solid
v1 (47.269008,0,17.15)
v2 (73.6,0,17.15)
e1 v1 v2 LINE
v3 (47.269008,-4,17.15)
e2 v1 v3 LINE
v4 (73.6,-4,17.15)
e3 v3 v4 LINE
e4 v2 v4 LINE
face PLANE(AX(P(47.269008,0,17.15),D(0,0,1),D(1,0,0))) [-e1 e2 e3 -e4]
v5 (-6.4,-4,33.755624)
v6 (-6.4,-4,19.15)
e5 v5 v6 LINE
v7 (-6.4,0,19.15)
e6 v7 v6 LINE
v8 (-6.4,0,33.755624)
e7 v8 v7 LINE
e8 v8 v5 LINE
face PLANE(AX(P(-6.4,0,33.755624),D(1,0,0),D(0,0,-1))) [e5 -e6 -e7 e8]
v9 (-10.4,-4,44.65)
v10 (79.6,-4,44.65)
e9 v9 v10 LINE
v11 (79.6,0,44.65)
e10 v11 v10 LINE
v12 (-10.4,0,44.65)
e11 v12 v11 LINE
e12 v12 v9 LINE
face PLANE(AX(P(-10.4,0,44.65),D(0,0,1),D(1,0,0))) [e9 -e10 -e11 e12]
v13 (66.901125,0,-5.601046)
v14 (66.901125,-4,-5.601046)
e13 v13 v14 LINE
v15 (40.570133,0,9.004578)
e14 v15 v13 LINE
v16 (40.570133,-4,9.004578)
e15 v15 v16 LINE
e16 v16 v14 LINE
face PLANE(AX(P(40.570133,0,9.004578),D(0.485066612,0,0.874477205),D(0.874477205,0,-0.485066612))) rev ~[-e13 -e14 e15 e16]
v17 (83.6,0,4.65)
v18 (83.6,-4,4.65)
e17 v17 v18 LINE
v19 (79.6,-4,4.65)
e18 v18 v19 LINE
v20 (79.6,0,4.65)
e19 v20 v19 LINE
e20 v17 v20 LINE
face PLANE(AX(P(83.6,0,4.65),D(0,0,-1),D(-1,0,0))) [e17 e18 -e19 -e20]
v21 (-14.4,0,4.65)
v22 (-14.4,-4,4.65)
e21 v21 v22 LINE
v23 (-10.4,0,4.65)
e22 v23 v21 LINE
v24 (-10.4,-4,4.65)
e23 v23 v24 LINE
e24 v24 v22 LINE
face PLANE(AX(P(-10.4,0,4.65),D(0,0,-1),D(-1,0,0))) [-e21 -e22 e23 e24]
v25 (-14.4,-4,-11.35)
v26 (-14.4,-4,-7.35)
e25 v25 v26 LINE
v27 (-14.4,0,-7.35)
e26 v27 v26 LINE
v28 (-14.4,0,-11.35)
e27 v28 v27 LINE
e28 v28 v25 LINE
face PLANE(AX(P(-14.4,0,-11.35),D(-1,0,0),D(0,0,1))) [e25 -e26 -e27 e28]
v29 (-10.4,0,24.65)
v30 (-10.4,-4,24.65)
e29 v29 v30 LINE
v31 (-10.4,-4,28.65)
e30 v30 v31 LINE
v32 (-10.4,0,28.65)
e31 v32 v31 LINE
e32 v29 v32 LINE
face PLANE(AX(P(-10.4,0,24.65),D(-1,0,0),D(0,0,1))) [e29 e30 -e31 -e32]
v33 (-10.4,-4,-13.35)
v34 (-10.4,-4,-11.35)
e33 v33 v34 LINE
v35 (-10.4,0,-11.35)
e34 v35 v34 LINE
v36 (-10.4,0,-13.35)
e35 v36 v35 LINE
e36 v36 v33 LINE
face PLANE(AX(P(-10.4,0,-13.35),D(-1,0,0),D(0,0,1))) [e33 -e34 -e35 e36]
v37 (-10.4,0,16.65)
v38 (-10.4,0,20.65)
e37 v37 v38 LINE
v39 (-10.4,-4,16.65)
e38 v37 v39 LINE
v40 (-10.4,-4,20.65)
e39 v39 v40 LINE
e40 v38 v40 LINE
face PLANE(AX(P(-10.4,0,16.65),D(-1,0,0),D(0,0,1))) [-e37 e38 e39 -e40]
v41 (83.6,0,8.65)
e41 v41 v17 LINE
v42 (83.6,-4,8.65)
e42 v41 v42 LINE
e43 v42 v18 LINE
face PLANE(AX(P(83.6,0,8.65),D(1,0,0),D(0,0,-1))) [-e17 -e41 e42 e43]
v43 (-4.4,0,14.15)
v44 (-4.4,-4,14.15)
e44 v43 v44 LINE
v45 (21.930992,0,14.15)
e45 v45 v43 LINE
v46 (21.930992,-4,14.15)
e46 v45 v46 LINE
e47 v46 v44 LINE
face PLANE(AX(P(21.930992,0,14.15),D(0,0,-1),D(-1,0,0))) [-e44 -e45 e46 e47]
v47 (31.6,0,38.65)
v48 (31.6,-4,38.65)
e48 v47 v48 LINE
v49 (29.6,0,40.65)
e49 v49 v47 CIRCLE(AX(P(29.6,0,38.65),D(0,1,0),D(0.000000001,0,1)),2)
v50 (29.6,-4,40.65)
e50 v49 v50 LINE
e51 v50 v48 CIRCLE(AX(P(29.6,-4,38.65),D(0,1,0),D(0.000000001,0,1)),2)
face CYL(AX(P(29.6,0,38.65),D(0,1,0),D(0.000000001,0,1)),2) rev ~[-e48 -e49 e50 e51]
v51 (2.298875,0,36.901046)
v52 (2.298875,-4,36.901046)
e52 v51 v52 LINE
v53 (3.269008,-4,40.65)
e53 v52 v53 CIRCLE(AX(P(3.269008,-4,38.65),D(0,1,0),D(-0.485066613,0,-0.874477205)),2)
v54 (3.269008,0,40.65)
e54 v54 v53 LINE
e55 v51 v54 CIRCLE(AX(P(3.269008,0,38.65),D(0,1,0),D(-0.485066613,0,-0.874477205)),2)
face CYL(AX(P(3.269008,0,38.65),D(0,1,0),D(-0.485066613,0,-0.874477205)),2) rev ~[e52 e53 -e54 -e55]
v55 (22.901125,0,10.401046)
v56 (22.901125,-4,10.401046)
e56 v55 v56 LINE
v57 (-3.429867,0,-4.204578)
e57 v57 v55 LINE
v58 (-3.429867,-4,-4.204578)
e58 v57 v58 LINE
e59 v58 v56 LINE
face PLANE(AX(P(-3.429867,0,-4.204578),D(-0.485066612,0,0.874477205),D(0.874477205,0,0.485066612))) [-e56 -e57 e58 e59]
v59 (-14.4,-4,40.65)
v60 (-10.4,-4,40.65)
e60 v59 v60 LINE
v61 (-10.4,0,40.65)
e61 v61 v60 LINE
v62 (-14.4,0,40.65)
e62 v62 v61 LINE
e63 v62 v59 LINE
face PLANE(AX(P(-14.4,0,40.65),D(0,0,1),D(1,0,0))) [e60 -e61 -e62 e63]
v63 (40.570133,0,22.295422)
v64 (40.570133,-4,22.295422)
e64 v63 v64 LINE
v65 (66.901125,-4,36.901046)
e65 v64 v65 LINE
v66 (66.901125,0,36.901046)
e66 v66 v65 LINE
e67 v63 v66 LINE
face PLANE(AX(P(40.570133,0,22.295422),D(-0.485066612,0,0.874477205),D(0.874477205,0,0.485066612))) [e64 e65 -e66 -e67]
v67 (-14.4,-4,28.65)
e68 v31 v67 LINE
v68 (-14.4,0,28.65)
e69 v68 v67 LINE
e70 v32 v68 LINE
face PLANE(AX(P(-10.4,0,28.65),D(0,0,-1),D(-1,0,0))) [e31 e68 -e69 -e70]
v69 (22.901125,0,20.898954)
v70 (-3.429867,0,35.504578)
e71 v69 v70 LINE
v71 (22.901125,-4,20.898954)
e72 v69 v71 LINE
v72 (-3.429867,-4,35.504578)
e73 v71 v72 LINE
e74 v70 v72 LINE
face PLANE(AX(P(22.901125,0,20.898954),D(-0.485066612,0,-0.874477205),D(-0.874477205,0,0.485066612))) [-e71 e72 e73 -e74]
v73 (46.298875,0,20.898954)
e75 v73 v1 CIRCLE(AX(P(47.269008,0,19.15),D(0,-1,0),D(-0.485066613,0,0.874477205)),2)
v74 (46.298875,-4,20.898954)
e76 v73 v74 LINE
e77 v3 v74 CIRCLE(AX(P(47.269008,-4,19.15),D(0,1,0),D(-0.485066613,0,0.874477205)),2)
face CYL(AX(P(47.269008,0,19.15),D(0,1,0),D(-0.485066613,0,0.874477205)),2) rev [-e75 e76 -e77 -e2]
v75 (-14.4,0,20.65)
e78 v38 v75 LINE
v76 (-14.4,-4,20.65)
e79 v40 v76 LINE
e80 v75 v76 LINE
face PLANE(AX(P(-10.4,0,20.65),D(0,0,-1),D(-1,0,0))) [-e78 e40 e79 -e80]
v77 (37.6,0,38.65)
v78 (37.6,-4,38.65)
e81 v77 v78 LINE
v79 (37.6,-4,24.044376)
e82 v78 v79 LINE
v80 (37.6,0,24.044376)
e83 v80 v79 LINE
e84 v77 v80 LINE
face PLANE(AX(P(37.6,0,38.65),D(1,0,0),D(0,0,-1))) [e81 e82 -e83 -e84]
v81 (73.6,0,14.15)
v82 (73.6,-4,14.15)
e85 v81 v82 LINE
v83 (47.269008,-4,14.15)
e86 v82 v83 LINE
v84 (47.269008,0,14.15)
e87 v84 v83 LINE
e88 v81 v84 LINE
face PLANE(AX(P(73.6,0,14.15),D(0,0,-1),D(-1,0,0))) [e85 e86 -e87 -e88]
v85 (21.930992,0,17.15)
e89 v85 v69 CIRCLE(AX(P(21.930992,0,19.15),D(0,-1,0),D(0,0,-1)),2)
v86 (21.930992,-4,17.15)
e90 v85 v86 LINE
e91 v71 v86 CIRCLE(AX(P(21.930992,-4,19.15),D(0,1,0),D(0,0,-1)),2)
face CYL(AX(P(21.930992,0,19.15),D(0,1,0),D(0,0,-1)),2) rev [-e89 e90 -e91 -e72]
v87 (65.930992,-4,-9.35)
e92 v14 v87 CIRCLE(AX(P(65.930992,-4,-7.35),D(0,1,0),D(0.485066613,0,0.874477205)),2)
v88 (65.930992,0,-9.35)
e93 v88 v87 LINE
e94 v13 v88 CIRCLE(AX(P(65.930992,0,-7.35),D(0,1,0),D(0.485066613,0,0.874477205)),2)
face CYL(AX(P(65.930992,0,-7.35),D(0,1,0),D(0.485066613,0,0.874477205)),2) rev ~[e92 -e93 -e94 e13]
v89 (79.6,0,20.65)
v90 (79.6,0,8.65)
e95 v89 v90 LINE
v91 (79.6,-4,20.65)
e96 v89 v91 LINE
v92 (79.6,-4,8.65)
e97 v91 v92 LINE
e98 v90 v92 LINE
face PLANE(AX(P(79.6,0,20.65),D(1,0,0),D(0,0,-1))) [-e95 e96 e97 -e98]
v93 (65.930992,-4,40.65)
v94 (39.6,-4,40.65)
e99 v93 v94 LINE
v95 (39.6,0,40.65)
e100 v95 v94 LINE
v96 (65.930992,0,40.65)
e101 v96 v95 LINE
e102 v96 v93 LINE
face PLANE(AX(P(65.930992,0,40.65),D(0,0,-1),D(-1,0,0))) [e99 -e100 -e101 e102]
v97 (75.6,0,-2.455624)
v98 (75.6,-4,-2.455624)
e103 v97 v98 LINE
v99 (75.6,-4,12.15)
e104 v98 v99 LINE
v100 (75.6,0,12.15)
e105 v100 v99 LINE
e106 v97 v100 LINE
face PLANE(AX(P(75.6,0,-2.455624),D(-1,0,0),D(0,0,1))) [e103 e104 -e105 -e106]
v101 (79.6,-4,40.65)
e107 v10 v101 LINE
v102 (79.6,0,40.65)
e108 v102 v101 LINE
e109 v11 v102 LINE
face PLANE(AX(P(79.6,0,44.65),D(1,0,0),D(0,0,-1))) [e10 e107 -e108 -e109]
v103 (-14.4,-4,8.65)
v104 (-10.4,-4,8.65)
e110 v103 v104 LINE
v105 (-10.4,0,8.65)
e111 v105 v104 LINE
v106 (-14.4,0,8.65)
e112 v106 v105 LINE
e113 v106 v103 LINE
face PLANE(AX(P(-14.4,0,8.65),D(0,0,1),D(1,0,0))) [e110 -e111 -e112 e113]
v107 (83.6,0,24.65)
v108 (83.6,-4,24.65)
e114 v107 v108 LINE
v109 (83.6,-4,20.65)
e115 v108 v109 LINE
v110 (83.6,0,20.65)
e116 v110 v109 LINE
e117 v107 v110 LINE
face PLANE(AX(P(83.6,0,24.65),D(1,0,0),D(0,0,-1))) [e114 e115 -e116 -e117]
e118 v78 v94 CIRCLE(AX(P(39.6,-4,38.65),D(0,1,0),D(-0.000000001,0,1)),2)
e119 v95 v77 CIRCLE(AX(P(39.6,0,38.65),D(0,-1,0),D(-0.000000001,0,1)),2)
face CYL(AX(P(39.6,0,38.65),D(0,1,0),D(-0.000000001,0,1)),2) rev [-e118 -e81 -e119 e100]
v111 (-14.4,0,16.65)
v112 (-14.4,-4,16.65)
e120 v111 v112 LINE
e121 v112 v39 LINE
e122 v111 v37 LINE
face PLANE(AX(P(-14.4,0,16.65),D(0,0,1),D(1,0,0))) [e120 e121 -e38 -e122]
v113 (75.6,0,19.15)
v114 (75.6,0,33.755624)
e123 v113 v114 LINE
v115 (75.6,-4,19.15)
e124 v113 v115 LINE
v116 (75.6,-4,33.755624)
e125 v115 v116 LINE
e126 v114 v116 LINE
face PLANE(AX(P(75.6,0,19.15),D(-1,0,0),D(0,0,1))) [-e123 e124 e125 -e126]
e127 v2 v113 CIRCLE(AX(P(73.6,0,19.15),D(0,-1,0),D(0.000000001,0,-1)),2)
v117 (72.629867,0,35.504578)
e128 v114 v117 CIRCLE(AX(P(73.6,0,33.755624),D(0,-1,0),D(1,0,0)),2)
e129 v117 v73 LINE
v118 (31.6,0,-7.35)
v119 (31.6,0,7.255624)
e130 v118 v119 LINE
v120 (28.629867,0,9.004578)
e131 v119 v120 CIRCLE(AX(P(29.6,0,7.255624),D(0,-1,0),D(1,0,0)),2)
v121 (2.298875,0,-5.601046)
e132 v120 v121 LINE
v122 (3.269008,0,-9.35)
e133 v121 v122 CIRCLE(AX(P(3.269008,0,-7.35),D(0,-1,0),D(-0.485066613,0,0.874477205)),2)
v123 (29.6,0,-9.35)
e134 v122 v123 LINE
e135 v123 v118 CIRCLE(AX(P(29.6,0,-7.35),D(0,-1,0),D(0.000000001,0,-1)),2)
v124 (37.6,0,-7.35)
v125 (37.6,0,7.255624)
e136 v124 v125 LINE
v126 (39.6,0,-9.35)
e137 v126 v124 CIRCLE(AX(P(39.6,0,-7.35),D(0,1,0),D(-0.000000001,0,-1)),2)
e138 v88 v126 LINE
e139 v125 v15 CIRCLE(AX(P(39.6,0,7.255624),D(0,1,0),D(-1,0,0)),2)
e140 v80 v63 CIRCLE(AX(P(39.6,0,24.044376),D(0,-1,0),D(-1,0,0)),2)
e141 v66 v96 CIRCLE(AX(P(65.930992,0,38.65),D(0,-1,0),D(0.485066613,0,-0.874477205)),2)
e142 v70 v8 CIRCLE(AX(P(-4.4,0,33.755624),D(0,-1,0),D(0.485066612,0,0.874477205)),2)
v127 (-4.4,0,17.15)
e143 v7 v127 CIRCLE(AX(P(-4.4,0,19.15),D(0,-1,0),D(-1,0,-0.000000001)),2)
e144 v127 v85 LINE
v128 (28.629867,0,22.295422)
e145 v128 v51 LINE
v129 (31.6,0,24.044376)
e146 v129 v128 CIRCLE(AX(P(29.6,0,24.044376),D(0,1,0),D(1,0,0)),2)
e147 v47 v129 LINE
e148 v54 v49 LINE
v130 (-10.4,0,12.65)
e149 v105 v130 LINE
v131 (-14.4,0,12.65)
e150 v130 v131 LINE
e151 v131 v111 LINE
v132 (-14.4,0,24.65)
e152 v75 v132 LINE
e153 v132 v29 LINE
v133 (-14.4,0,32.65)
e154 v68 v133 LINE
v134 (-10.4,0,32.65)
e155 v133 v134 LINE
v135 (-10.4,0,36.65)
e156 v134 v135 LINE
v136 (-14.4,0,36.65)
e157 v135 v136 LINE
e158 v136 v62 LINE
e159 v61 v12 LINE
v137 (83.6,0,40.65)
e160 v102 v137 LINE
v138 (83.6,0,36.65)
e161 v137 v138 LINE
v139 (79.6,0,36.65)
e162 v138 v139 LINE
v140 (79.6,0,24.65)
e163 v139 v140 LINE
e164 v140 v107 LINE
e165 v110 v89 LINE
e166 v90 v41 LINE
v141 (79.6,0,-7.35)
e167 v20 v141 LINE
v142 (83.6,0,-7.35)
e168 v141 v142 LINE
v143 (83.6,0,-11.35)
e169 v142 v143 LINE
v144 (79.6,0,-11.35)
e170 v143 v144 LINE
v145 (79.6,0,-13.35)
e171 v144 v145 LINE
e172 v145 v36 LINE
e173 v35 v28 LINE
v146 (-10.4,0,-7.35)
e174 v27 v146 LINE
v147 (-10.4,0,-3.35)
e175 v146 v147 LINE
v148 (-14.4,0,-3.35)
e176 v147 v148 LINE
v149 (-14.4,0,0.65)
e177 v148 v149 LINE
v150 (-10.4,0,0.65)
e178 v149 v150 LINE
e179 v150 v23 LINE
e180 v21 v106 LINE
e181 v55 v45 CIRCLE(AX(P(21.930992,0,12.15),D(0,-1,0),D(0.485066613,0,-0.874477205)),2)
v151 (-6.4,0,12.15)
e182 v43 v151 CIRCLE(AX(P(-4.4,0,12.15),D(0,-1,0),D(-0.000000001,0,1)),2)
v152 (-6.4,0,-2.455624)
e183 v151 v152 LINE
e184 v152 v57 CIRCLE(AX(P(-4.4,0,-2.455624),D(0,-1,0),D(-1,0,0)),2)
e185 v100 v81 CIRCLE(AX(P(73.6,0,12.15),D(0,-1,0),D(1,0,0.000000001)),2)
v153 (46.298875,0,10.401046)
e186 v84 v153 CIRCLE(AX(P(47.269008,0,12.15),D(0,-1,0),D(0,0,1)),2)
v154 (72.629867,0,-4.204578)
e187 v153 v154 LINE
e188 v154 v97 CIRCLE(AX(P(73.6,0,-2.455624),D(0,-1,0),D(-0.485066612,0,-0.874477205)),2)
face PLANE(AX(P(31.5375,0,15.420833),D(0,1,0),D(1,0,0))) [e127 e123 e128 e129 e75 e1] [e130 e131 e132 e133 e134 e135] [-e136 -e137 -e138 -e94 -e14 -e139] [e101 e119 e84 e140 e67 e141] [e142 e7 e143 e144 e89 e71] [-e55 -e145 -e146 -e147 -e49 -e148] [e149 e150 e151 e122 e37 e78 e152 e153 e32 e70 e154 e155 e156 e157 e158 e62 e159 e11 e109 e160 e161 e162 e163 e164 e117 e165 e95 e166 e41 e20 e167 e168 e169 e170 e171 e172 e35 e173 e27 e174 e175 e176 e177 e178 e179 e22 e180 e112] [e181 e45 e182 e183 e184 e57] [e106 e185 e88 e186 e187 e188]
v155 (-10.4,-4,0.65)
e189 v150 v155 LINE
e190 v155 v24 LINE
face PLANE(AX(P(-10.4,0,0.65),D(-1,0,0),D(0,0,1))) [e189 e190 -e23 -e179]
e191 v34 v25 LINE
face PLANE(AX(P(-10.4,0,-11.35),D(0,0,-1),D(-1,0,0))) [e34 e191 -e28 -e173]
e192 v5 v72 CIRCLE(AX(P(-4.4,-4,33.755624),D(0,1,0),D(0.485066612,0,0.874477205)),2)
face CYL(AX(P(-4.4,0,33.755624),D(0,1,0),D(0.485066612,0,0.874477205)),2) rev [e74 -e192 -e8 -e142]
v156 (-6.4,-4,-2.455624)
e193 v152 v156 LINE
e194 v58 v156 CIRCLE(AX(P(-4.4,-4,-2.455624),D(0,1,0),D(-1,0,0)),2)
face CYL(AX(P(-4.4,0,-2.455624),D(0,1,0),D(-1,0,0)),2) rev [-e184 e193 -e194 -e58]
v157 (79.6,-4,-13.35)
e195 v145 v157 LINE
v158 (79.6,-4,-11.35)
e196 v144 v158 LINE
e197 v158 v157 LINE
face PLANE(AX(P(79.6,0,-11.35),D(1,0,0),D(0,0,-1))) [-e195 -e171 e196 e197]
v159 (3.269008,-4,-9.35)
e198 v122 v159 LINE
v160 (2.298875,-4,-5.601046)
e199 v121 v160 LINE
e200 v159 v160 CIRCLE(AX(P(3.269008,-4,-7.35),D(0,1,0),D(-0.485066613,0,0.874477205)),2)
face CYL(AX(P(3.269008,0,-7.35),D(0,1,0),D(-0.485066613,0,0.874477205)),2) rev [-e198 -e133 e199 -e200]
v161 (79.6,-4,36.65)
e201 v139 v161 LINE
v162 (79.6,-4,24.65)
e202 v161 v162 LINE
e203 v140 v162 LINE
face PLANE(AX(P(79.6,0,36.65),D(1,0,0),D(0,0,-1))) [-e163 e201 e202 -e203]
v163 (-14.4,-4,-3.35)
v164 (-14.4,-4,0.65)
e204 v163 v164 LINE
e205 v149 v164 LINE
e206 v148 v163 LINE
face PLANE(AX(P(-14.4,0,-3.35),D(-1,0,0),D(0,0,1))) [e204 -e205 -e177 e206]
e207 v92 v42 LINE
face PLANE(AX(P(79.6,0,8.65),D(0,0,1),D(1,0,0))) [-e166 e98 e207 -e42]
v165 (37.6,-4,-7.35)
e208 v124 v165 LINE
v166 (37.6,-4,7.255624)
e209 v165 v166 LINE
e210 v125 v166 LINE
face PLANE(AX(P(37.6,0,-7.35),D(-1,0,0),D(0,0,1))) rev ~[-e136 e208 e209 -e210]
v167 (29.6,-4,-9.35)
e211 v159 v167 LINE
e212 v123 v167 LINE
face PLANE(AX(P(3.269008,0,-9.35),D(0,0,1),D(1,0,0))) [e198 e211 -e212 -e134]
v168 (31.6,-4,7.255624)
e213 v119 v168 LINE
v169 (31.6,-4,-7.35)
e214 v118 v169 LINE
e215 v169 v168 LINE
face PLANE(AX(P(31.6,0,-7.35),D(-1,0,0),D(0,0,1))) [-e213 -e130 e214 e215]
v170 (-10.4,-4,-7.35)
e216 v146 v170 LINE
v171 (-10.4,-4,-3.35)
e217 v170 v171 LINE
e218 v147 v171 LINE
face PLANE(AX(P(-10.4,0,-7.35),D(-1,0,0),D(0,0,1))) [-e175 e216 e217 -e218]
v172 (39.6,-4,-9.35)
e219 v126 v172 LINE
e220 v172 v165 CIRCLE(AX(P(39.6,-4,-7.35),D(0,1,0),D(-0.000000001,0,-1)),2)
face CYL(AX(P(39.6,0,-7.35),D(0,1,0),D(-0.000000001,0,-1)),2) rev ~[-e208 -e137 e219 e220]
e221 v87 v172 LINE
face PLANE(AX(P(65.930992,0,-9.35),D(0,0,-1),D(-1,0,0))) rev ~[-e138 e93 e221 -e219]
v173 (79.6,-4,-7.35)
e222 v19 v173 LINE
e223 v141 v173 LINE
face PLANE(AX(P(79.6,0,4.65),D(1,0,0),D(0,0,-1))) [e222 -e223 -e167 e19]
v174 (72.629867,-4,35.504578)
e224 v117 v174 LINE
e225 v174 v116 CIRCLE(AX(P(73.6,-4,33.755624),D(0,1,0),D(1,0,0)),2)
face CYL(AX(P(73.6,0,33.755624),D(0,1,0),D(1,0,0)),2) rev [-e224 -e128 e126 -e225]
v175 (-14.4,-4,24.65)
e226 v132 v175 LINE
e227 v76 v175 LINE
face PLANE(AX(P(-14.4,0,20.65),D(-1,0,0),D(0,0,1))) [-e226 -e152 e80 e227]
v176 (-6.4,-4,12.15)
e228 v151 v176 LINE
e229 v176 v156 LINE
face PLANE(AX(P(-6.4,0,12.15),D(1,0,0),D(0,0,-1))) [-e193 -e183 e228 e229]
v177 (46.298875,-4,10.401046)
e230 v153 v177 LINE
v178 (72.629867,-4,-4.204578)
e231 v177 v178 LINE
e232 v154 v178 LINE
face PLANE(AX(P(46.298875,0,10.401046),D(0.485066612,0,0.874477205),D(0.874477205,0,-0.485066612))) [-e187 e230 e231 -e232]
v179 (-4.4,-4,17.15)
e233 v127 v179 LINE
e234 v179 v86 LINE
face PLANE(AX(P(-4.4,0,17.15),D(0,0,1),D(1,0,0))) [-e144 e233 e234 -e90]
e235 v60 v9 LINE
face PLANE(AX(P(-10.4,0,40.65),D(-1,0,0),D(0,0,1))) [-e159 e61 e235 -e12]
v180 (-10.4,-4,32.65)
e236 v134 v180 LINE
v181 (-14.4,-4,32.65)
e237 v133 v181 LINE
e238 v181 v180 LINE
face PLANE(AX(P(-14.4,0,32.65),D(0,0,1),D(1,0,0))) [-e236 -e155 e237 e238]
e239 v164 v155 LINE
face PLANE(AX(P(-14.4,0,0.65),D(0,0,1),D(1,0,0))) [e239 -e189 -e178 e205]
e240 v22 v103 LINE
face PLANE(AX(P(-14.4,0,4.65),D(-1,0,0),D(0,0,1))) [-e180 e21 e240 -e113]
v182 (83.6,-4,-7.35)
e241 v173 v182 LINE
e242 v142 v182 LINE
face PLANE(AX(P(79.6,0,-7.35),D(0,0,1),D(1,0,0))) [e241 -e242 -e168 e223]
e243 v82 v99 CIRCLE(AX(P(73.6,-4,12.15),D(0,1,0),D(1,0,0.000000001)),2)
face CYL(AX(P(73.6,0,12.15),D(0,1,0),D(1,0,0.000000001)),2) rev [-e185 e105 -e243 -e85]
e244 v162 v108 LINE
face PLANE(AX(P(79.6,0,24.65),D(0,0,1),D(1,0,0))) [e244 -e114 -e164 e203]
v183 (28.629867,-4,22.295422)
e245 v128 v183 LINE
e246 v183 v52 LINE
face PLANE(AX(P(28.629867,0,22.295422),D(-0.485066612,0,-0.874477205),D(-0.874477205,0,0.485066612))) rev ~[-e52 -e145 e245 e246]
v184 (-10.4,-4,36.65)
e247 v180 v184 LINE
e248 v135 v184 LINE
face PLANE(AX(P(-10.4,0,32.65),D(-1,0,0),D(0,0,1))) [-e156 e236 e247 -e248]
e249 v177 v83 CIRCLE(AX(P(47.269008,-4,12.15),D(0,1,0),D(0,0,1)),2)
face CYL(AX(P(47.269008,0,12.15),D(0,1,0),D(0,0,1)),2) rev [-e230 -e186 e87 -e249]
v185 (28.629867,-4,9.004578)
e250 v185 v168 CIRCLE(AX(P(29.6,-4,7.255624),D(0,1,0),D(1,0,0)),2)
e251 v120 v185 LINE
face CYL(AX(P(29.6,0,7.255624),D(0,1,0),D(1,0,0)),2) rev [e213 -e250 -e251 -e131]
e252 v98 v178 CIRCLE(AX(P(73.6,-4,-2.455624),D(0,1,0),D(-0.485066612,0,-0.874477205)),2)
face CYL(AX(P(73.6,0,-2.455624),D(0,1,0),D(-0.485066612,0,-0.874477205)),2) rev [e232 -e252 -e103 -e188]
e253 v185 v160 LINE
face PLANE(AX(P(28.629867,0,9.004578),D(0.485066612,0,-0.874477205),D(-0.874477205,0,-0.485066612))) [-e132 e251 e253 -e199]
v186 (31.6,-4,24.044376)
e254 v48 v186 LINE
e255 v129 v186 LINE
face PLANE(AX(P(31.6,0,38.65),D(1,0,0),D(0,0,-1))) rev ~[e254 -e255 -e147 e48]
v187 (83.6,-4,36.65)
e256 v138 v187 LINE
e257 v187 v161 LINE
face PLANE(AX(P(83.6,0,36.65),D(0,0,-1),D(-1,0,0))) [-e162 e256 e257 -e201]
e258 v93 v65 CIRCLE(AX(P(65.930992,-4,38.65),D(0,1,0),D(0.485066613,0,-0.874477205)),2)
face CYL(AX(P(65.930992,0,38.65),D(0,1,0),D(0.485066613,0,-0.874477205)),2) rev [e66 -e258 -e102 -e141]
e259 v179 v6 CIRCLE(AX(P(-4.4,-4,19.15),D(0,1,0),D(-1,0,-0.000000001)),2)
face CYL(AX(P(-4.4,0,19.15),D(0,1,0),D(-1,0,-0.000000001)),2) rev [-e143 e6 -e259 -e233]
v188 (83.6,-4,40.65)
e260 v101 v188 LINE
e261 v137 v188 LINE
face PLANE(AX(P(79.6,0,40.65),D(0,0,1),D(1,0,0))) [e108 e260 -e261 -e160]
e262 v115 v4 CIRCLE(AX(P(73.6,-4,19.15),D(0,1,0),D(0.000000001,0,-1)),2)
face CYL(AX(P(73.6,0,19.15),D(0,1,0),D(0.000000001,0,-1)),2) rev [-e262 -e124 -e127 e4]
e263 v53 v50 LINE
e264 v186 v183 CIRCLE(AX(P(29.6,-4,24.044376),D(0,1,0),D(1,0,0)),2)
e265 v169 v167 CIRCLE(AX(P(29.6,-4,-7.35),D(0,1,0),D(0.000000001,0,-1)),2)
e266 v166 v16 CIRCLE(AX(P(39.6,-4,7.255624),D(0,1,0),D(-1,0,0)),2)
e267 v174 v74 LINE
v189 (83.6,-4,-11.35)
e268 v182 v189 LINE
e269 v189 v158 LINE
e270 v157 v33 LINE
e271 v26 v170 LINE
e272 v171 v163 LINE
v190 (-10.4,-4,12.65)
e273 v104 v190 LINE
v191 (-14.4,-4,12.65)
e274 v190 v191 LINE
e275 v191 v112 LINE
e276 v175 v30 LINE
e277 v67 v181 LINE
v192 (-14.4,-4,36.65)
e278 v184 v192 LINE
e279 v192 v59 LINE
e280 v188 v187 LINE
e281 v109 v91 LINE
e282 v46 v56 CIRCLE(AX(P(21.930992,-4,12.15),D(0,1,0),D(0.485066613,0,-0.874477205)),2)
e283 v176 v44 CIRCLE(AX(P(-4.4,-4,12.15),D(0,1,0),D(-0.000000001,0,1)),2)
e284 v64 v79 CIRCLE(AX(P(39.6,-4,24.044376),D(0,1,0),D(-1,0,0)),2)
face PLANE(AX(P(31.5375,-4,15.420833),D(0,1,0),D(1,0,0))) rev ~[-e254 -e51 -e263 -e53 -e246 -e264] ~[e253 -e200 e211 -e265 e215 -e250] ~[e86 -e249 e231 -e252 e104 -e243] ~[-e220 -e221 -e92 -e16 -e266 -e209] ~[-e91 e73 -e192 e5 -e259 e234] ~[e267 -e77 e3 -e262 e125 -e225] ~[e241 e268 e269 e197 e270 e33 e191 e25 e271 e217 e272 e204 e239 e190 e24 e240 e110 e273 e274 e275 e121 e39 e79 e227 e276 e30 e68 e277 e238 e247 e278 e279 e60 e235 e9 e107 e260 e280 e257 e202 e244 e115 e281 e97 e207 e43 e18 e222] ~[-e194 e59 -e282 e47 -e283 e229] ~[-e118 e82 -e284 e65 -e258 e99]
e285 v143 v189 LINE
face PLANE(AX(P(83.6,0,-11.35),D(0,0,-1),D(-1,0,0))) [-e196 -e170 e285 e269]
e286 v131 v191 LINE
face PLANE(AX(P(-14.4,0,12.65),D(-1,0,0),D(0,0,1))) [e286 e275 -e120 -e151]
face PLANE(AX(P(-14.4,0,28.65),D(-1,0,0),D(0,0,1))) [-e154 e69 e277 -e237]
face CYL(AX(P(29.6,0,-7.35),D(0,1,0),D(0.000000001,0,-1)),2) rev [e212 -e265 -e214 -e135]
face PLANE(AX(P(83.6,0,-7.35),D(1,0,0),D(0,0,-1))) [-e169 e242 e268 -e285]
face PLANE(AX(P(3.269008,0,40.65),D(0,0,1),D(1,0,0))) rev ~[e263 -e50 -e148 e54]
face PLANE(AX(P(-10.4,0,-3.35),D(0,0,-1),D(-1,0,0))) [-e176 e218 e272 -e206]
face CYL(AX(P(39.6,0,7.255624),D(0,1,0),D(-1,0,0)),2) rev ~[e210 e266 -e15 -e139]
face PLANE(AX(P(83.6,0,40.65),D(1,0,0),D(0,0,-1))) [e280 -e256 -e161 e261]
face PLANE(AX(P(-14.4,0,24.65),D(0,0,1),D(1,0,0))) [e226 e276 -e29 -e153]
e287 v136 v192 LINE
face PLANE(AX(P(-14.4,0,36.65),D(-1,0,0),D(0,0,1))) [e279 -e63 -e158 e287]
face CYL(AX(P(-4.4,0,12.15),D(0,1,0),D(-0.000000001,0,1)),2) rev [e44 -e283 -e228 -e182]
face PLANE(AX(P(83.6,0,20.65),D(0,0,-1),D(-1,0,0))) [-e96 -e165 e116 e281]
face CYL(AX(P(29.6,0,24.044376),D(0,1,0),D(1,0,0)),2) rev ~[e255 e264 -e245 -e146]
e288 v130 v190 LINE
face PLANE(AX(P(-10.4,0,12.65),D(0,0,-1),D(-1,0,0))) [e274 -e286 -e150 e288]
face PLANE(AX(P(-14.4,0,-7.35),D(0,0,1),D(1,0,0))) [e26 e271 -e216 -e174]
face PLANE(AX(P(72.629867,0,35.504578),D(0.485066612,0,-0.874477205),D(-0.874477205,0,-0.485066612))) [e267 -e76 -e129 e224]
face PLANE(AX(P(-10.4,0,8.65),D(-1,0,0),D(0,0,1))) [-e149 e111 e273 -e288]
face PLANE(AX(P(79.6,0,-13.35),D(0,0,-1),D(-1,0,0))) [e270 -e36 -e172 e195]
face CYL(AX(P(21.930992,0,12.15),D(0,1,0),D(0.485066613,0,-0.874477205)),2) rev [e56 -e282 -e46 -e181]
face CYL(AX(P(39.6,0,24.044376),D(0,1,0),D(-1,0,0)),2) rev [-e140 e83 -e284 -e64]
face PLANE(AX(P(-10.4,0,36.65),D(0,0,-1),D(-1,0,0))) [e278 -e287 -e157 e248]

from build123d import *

# Parameters (mm, degrees)
BOSS_EXTRUDE1_DEPTH = 4
CUT_EXTRUDE1_DEPTH  = 10


with BuildPart() as part:
    # Sketch1 → Boss-Extrude1 (new body)
    with BuildSketch(Plane(origin=(0, 0, 0), x_dir=(1, 0, 0), z_dir=(0, 1, 0))):
        Polygon((-10.4, 13.35), (-10.4, 11.35), (-14.4, 11.35), (-14.4, 7.35), (-10.4, 7.35), (-10.4, 3.35), (-14.4, 3.35), (-14.4, -0.65), (-10.4, -0.65), (-10.4, -4.65), (-14.4, -4.65), (-14.4, -8.65), (-10.4, -8.65), (-10.4, -12.65), (-14.4, -12.65), (-14.4, -16.65), (-10.4, -16.65), (-10.4, -20.65), (-14.4, -20.65), (-14.4, -24.65), (-10.4, -24.65), (-10.4, -28.65), (-14.4, -28.65), (-14.4, -32.65), (-10.4, -32.65), (-10.4, -36.65), (-14.4, -36.65), (-14.4, -40.65), (-10.4, -40.65), (-10.4, -44.65), (79.6, -44.65), (79.6, -40.65), (83.6, -40.65), (83.6, -36.65), (79.6, -36.65), (79.6, -24.65), (83.6, -24.65), (83.6, -20.65), (79.6, -20.65), (79.6, -8.65), (83.6, -8.65), (83.6, -4.65), (79.6, -4.65), (79.6, 7.35), (83.6, 7.35), (83.6, 11.35), (79.6, 11.35), (79.6, 13.35), align=None)
    extrude(amount=-BOSS_EXTRUDE1_DEPTH)

    # Sketch2 → Cut-Extrude1 (cut)
    with BuildSketch(Plane(origin=(0, 0, 0), x_dir=(1, 0, 0), z_dir=(0, 1, 0))):
        with BuildLine():
            Line((3.269007855, 9.35), (29.6, 9.35))
            ThreePointArc((29.6, 9.35), (31.014213562, 8.764213562), (31.6, 7.35))
            Line((31.6, 7.35), (31.6, -7.255623888))
            ThreePointArc((31.6, -7.255623888), (30.61482352, -8.979031334), (28.629866776, -9.004578298))
            Line((28.629866776, -9.004578298), (2.29887463, 5.60104559))
            ThreePointArc((2.29887463, 5.60104559), (1.332786171, 7.851044499), (3.269007855, 9.35))
        make_face()
        with BuildLine():
            ThreePointArc((-6.4, 2.455623888), (-5.41482352, 4.179031334), (-3.429866776, 4.204578298))
            Line((-3.429866776, 4.204578298), (22.90112537, -10.40104559))
            ThreePointArc((22.90112537, -10.40104559), (23.867213829, -12.651044499), (21.930992145, -14.15))
            Line((21.930992145, -14.15), (-4.4, -14.15))
            ThreePointArc((-4.4, -14.15), (-5.814213562, -13.564213562), (-6.4, -12.15))
            Line((-6.4, -12.15), (-6.4, 2.455623888))
        make_face()
        with BuildLine():
            ThreePointArc((-6.4, -19.15), (-5.814213562, -17.735786438), (-4.4, -17.15))
            Line((-4.4, -17.15), (21.930992145, -17.15))
            ThreePointArc((21.930992145, -17.15), (23.867213829, -18.648955501), (22.90112537, -20.89895441))
            Line((22.90112537, -20.89895441), (-3.429866776, -35.504578298))
            ThreePointArc((-3.429866776, -35.504578298), (-5.41482352, -35.479031334), (-6.4, -33.755623888))
            Line((-6.4, -33.755623888), (-6.4, -19.15))
        make_face()
        with BuildLine():
            Line((31.6, -38.65), (31.6, -24.044376112))
            ThreePointArc((31.6, -24.044376112), (30.61482352, -22.320968666), (28.629866776, -22.295421702))
            Line((28.629866776, -22.295421702), (2.29887463, -36.90104559))
            ThreePointArc((2.29887463, -36.90104559), (1.332786171, -39.151044499), (3.269007855, -40.65))
            Line((3.269007855, -40.65), (29.6, -40.65))
            ThreePointArc((29.6, -40.65), (31.014213562, -40.064213562), (31.6, -38.65))
        make_face()
        with BuildLine():
            Line((65.930992145, -40.65), (39.6, -40.65))
            ThreePointArc((39.6, -40.65), (38.185786438, -40.064213562), (37.6, -38.65))
            Line((37.6, -38.65), (37.6, -24.044376112))
            ThreePointArc((37.6, -24.044376112), (38.58517648, -22.320968666), (40.570133224, -22.295421702))
            Line((40.570133224, -22.295421702), (66.90112537, -36.90104559))
            ThreePointArc((66.90112537, -36.90104559), (67.867213829, -39.151044499), (65.930992145, -40.65))
        make_face()
        with BuildLine():
            ThreePointArc((75.6, -33.755623888), (74.61482352, -35.479031334), (72.629866776, -35.504578298))
            Line((72.629866776, -35.504578298), (46.29887463, -20.89895441))
            ThreePointArc((46.29887463, -20.89895441), (45.332786171, -18.648955501), (47.269007855, -17.15))
            Line((47.269007855, -17.15), (73.6, -17.15))
            ThreePointArc((73.6, -17.15), (75.014213562, -17.735786438), (75.6, -19.15))
            Line((75.6, -19.15), (75.6, -33.755623888))
        make_face()
        with BuildLine():
            ThreePointArc((75.6, -12.15), (75.014213562, -13.564213562), (73.6, -14.15))
            Line((73.6, -14.15), (47.269007855, -14.15))
            ThreePointArc((47.269007855, -14.15), (45.332786171, -12.651044499), (46.29887463, -10.40104559))
            Line((46.29887463, -10.40104559), (72.629866776, 4.204578298))
            ThreePointArc((72.629866776, 4.204578298), (74.61482352, 4.179031334), (75.6, 2.455623888))
            Line((75.6, 2.455623888), (75.6, -12.15))
        make_face()
        with BuildLine():
            Line((37.6, 7.35), (37.6, -7.255623888))
            ThreePointArc((37.6, -7.255623888), (38.58517648, -8.979031334), (40.570133224, -9.004578298))
            Line((40.570133224, -9.004578298), (66.90112537, 5.60104559))
            ThreePointArc((66.90112537, 5.60104559), (67.867213829, 7.851044499), (65.930992145, 9.35))
            Line((65.930992145, 9.35), (39.6, 9.35))
            ThreePointArc((39.6, 9.35), (38.185786438, 8.764213562), (37.6, 7.35))
        make_face()
    extrude(amount=-CUT_EXTRUDE1_DEPTH, mode=Mode.SUBTRACT)


solid = part.part
